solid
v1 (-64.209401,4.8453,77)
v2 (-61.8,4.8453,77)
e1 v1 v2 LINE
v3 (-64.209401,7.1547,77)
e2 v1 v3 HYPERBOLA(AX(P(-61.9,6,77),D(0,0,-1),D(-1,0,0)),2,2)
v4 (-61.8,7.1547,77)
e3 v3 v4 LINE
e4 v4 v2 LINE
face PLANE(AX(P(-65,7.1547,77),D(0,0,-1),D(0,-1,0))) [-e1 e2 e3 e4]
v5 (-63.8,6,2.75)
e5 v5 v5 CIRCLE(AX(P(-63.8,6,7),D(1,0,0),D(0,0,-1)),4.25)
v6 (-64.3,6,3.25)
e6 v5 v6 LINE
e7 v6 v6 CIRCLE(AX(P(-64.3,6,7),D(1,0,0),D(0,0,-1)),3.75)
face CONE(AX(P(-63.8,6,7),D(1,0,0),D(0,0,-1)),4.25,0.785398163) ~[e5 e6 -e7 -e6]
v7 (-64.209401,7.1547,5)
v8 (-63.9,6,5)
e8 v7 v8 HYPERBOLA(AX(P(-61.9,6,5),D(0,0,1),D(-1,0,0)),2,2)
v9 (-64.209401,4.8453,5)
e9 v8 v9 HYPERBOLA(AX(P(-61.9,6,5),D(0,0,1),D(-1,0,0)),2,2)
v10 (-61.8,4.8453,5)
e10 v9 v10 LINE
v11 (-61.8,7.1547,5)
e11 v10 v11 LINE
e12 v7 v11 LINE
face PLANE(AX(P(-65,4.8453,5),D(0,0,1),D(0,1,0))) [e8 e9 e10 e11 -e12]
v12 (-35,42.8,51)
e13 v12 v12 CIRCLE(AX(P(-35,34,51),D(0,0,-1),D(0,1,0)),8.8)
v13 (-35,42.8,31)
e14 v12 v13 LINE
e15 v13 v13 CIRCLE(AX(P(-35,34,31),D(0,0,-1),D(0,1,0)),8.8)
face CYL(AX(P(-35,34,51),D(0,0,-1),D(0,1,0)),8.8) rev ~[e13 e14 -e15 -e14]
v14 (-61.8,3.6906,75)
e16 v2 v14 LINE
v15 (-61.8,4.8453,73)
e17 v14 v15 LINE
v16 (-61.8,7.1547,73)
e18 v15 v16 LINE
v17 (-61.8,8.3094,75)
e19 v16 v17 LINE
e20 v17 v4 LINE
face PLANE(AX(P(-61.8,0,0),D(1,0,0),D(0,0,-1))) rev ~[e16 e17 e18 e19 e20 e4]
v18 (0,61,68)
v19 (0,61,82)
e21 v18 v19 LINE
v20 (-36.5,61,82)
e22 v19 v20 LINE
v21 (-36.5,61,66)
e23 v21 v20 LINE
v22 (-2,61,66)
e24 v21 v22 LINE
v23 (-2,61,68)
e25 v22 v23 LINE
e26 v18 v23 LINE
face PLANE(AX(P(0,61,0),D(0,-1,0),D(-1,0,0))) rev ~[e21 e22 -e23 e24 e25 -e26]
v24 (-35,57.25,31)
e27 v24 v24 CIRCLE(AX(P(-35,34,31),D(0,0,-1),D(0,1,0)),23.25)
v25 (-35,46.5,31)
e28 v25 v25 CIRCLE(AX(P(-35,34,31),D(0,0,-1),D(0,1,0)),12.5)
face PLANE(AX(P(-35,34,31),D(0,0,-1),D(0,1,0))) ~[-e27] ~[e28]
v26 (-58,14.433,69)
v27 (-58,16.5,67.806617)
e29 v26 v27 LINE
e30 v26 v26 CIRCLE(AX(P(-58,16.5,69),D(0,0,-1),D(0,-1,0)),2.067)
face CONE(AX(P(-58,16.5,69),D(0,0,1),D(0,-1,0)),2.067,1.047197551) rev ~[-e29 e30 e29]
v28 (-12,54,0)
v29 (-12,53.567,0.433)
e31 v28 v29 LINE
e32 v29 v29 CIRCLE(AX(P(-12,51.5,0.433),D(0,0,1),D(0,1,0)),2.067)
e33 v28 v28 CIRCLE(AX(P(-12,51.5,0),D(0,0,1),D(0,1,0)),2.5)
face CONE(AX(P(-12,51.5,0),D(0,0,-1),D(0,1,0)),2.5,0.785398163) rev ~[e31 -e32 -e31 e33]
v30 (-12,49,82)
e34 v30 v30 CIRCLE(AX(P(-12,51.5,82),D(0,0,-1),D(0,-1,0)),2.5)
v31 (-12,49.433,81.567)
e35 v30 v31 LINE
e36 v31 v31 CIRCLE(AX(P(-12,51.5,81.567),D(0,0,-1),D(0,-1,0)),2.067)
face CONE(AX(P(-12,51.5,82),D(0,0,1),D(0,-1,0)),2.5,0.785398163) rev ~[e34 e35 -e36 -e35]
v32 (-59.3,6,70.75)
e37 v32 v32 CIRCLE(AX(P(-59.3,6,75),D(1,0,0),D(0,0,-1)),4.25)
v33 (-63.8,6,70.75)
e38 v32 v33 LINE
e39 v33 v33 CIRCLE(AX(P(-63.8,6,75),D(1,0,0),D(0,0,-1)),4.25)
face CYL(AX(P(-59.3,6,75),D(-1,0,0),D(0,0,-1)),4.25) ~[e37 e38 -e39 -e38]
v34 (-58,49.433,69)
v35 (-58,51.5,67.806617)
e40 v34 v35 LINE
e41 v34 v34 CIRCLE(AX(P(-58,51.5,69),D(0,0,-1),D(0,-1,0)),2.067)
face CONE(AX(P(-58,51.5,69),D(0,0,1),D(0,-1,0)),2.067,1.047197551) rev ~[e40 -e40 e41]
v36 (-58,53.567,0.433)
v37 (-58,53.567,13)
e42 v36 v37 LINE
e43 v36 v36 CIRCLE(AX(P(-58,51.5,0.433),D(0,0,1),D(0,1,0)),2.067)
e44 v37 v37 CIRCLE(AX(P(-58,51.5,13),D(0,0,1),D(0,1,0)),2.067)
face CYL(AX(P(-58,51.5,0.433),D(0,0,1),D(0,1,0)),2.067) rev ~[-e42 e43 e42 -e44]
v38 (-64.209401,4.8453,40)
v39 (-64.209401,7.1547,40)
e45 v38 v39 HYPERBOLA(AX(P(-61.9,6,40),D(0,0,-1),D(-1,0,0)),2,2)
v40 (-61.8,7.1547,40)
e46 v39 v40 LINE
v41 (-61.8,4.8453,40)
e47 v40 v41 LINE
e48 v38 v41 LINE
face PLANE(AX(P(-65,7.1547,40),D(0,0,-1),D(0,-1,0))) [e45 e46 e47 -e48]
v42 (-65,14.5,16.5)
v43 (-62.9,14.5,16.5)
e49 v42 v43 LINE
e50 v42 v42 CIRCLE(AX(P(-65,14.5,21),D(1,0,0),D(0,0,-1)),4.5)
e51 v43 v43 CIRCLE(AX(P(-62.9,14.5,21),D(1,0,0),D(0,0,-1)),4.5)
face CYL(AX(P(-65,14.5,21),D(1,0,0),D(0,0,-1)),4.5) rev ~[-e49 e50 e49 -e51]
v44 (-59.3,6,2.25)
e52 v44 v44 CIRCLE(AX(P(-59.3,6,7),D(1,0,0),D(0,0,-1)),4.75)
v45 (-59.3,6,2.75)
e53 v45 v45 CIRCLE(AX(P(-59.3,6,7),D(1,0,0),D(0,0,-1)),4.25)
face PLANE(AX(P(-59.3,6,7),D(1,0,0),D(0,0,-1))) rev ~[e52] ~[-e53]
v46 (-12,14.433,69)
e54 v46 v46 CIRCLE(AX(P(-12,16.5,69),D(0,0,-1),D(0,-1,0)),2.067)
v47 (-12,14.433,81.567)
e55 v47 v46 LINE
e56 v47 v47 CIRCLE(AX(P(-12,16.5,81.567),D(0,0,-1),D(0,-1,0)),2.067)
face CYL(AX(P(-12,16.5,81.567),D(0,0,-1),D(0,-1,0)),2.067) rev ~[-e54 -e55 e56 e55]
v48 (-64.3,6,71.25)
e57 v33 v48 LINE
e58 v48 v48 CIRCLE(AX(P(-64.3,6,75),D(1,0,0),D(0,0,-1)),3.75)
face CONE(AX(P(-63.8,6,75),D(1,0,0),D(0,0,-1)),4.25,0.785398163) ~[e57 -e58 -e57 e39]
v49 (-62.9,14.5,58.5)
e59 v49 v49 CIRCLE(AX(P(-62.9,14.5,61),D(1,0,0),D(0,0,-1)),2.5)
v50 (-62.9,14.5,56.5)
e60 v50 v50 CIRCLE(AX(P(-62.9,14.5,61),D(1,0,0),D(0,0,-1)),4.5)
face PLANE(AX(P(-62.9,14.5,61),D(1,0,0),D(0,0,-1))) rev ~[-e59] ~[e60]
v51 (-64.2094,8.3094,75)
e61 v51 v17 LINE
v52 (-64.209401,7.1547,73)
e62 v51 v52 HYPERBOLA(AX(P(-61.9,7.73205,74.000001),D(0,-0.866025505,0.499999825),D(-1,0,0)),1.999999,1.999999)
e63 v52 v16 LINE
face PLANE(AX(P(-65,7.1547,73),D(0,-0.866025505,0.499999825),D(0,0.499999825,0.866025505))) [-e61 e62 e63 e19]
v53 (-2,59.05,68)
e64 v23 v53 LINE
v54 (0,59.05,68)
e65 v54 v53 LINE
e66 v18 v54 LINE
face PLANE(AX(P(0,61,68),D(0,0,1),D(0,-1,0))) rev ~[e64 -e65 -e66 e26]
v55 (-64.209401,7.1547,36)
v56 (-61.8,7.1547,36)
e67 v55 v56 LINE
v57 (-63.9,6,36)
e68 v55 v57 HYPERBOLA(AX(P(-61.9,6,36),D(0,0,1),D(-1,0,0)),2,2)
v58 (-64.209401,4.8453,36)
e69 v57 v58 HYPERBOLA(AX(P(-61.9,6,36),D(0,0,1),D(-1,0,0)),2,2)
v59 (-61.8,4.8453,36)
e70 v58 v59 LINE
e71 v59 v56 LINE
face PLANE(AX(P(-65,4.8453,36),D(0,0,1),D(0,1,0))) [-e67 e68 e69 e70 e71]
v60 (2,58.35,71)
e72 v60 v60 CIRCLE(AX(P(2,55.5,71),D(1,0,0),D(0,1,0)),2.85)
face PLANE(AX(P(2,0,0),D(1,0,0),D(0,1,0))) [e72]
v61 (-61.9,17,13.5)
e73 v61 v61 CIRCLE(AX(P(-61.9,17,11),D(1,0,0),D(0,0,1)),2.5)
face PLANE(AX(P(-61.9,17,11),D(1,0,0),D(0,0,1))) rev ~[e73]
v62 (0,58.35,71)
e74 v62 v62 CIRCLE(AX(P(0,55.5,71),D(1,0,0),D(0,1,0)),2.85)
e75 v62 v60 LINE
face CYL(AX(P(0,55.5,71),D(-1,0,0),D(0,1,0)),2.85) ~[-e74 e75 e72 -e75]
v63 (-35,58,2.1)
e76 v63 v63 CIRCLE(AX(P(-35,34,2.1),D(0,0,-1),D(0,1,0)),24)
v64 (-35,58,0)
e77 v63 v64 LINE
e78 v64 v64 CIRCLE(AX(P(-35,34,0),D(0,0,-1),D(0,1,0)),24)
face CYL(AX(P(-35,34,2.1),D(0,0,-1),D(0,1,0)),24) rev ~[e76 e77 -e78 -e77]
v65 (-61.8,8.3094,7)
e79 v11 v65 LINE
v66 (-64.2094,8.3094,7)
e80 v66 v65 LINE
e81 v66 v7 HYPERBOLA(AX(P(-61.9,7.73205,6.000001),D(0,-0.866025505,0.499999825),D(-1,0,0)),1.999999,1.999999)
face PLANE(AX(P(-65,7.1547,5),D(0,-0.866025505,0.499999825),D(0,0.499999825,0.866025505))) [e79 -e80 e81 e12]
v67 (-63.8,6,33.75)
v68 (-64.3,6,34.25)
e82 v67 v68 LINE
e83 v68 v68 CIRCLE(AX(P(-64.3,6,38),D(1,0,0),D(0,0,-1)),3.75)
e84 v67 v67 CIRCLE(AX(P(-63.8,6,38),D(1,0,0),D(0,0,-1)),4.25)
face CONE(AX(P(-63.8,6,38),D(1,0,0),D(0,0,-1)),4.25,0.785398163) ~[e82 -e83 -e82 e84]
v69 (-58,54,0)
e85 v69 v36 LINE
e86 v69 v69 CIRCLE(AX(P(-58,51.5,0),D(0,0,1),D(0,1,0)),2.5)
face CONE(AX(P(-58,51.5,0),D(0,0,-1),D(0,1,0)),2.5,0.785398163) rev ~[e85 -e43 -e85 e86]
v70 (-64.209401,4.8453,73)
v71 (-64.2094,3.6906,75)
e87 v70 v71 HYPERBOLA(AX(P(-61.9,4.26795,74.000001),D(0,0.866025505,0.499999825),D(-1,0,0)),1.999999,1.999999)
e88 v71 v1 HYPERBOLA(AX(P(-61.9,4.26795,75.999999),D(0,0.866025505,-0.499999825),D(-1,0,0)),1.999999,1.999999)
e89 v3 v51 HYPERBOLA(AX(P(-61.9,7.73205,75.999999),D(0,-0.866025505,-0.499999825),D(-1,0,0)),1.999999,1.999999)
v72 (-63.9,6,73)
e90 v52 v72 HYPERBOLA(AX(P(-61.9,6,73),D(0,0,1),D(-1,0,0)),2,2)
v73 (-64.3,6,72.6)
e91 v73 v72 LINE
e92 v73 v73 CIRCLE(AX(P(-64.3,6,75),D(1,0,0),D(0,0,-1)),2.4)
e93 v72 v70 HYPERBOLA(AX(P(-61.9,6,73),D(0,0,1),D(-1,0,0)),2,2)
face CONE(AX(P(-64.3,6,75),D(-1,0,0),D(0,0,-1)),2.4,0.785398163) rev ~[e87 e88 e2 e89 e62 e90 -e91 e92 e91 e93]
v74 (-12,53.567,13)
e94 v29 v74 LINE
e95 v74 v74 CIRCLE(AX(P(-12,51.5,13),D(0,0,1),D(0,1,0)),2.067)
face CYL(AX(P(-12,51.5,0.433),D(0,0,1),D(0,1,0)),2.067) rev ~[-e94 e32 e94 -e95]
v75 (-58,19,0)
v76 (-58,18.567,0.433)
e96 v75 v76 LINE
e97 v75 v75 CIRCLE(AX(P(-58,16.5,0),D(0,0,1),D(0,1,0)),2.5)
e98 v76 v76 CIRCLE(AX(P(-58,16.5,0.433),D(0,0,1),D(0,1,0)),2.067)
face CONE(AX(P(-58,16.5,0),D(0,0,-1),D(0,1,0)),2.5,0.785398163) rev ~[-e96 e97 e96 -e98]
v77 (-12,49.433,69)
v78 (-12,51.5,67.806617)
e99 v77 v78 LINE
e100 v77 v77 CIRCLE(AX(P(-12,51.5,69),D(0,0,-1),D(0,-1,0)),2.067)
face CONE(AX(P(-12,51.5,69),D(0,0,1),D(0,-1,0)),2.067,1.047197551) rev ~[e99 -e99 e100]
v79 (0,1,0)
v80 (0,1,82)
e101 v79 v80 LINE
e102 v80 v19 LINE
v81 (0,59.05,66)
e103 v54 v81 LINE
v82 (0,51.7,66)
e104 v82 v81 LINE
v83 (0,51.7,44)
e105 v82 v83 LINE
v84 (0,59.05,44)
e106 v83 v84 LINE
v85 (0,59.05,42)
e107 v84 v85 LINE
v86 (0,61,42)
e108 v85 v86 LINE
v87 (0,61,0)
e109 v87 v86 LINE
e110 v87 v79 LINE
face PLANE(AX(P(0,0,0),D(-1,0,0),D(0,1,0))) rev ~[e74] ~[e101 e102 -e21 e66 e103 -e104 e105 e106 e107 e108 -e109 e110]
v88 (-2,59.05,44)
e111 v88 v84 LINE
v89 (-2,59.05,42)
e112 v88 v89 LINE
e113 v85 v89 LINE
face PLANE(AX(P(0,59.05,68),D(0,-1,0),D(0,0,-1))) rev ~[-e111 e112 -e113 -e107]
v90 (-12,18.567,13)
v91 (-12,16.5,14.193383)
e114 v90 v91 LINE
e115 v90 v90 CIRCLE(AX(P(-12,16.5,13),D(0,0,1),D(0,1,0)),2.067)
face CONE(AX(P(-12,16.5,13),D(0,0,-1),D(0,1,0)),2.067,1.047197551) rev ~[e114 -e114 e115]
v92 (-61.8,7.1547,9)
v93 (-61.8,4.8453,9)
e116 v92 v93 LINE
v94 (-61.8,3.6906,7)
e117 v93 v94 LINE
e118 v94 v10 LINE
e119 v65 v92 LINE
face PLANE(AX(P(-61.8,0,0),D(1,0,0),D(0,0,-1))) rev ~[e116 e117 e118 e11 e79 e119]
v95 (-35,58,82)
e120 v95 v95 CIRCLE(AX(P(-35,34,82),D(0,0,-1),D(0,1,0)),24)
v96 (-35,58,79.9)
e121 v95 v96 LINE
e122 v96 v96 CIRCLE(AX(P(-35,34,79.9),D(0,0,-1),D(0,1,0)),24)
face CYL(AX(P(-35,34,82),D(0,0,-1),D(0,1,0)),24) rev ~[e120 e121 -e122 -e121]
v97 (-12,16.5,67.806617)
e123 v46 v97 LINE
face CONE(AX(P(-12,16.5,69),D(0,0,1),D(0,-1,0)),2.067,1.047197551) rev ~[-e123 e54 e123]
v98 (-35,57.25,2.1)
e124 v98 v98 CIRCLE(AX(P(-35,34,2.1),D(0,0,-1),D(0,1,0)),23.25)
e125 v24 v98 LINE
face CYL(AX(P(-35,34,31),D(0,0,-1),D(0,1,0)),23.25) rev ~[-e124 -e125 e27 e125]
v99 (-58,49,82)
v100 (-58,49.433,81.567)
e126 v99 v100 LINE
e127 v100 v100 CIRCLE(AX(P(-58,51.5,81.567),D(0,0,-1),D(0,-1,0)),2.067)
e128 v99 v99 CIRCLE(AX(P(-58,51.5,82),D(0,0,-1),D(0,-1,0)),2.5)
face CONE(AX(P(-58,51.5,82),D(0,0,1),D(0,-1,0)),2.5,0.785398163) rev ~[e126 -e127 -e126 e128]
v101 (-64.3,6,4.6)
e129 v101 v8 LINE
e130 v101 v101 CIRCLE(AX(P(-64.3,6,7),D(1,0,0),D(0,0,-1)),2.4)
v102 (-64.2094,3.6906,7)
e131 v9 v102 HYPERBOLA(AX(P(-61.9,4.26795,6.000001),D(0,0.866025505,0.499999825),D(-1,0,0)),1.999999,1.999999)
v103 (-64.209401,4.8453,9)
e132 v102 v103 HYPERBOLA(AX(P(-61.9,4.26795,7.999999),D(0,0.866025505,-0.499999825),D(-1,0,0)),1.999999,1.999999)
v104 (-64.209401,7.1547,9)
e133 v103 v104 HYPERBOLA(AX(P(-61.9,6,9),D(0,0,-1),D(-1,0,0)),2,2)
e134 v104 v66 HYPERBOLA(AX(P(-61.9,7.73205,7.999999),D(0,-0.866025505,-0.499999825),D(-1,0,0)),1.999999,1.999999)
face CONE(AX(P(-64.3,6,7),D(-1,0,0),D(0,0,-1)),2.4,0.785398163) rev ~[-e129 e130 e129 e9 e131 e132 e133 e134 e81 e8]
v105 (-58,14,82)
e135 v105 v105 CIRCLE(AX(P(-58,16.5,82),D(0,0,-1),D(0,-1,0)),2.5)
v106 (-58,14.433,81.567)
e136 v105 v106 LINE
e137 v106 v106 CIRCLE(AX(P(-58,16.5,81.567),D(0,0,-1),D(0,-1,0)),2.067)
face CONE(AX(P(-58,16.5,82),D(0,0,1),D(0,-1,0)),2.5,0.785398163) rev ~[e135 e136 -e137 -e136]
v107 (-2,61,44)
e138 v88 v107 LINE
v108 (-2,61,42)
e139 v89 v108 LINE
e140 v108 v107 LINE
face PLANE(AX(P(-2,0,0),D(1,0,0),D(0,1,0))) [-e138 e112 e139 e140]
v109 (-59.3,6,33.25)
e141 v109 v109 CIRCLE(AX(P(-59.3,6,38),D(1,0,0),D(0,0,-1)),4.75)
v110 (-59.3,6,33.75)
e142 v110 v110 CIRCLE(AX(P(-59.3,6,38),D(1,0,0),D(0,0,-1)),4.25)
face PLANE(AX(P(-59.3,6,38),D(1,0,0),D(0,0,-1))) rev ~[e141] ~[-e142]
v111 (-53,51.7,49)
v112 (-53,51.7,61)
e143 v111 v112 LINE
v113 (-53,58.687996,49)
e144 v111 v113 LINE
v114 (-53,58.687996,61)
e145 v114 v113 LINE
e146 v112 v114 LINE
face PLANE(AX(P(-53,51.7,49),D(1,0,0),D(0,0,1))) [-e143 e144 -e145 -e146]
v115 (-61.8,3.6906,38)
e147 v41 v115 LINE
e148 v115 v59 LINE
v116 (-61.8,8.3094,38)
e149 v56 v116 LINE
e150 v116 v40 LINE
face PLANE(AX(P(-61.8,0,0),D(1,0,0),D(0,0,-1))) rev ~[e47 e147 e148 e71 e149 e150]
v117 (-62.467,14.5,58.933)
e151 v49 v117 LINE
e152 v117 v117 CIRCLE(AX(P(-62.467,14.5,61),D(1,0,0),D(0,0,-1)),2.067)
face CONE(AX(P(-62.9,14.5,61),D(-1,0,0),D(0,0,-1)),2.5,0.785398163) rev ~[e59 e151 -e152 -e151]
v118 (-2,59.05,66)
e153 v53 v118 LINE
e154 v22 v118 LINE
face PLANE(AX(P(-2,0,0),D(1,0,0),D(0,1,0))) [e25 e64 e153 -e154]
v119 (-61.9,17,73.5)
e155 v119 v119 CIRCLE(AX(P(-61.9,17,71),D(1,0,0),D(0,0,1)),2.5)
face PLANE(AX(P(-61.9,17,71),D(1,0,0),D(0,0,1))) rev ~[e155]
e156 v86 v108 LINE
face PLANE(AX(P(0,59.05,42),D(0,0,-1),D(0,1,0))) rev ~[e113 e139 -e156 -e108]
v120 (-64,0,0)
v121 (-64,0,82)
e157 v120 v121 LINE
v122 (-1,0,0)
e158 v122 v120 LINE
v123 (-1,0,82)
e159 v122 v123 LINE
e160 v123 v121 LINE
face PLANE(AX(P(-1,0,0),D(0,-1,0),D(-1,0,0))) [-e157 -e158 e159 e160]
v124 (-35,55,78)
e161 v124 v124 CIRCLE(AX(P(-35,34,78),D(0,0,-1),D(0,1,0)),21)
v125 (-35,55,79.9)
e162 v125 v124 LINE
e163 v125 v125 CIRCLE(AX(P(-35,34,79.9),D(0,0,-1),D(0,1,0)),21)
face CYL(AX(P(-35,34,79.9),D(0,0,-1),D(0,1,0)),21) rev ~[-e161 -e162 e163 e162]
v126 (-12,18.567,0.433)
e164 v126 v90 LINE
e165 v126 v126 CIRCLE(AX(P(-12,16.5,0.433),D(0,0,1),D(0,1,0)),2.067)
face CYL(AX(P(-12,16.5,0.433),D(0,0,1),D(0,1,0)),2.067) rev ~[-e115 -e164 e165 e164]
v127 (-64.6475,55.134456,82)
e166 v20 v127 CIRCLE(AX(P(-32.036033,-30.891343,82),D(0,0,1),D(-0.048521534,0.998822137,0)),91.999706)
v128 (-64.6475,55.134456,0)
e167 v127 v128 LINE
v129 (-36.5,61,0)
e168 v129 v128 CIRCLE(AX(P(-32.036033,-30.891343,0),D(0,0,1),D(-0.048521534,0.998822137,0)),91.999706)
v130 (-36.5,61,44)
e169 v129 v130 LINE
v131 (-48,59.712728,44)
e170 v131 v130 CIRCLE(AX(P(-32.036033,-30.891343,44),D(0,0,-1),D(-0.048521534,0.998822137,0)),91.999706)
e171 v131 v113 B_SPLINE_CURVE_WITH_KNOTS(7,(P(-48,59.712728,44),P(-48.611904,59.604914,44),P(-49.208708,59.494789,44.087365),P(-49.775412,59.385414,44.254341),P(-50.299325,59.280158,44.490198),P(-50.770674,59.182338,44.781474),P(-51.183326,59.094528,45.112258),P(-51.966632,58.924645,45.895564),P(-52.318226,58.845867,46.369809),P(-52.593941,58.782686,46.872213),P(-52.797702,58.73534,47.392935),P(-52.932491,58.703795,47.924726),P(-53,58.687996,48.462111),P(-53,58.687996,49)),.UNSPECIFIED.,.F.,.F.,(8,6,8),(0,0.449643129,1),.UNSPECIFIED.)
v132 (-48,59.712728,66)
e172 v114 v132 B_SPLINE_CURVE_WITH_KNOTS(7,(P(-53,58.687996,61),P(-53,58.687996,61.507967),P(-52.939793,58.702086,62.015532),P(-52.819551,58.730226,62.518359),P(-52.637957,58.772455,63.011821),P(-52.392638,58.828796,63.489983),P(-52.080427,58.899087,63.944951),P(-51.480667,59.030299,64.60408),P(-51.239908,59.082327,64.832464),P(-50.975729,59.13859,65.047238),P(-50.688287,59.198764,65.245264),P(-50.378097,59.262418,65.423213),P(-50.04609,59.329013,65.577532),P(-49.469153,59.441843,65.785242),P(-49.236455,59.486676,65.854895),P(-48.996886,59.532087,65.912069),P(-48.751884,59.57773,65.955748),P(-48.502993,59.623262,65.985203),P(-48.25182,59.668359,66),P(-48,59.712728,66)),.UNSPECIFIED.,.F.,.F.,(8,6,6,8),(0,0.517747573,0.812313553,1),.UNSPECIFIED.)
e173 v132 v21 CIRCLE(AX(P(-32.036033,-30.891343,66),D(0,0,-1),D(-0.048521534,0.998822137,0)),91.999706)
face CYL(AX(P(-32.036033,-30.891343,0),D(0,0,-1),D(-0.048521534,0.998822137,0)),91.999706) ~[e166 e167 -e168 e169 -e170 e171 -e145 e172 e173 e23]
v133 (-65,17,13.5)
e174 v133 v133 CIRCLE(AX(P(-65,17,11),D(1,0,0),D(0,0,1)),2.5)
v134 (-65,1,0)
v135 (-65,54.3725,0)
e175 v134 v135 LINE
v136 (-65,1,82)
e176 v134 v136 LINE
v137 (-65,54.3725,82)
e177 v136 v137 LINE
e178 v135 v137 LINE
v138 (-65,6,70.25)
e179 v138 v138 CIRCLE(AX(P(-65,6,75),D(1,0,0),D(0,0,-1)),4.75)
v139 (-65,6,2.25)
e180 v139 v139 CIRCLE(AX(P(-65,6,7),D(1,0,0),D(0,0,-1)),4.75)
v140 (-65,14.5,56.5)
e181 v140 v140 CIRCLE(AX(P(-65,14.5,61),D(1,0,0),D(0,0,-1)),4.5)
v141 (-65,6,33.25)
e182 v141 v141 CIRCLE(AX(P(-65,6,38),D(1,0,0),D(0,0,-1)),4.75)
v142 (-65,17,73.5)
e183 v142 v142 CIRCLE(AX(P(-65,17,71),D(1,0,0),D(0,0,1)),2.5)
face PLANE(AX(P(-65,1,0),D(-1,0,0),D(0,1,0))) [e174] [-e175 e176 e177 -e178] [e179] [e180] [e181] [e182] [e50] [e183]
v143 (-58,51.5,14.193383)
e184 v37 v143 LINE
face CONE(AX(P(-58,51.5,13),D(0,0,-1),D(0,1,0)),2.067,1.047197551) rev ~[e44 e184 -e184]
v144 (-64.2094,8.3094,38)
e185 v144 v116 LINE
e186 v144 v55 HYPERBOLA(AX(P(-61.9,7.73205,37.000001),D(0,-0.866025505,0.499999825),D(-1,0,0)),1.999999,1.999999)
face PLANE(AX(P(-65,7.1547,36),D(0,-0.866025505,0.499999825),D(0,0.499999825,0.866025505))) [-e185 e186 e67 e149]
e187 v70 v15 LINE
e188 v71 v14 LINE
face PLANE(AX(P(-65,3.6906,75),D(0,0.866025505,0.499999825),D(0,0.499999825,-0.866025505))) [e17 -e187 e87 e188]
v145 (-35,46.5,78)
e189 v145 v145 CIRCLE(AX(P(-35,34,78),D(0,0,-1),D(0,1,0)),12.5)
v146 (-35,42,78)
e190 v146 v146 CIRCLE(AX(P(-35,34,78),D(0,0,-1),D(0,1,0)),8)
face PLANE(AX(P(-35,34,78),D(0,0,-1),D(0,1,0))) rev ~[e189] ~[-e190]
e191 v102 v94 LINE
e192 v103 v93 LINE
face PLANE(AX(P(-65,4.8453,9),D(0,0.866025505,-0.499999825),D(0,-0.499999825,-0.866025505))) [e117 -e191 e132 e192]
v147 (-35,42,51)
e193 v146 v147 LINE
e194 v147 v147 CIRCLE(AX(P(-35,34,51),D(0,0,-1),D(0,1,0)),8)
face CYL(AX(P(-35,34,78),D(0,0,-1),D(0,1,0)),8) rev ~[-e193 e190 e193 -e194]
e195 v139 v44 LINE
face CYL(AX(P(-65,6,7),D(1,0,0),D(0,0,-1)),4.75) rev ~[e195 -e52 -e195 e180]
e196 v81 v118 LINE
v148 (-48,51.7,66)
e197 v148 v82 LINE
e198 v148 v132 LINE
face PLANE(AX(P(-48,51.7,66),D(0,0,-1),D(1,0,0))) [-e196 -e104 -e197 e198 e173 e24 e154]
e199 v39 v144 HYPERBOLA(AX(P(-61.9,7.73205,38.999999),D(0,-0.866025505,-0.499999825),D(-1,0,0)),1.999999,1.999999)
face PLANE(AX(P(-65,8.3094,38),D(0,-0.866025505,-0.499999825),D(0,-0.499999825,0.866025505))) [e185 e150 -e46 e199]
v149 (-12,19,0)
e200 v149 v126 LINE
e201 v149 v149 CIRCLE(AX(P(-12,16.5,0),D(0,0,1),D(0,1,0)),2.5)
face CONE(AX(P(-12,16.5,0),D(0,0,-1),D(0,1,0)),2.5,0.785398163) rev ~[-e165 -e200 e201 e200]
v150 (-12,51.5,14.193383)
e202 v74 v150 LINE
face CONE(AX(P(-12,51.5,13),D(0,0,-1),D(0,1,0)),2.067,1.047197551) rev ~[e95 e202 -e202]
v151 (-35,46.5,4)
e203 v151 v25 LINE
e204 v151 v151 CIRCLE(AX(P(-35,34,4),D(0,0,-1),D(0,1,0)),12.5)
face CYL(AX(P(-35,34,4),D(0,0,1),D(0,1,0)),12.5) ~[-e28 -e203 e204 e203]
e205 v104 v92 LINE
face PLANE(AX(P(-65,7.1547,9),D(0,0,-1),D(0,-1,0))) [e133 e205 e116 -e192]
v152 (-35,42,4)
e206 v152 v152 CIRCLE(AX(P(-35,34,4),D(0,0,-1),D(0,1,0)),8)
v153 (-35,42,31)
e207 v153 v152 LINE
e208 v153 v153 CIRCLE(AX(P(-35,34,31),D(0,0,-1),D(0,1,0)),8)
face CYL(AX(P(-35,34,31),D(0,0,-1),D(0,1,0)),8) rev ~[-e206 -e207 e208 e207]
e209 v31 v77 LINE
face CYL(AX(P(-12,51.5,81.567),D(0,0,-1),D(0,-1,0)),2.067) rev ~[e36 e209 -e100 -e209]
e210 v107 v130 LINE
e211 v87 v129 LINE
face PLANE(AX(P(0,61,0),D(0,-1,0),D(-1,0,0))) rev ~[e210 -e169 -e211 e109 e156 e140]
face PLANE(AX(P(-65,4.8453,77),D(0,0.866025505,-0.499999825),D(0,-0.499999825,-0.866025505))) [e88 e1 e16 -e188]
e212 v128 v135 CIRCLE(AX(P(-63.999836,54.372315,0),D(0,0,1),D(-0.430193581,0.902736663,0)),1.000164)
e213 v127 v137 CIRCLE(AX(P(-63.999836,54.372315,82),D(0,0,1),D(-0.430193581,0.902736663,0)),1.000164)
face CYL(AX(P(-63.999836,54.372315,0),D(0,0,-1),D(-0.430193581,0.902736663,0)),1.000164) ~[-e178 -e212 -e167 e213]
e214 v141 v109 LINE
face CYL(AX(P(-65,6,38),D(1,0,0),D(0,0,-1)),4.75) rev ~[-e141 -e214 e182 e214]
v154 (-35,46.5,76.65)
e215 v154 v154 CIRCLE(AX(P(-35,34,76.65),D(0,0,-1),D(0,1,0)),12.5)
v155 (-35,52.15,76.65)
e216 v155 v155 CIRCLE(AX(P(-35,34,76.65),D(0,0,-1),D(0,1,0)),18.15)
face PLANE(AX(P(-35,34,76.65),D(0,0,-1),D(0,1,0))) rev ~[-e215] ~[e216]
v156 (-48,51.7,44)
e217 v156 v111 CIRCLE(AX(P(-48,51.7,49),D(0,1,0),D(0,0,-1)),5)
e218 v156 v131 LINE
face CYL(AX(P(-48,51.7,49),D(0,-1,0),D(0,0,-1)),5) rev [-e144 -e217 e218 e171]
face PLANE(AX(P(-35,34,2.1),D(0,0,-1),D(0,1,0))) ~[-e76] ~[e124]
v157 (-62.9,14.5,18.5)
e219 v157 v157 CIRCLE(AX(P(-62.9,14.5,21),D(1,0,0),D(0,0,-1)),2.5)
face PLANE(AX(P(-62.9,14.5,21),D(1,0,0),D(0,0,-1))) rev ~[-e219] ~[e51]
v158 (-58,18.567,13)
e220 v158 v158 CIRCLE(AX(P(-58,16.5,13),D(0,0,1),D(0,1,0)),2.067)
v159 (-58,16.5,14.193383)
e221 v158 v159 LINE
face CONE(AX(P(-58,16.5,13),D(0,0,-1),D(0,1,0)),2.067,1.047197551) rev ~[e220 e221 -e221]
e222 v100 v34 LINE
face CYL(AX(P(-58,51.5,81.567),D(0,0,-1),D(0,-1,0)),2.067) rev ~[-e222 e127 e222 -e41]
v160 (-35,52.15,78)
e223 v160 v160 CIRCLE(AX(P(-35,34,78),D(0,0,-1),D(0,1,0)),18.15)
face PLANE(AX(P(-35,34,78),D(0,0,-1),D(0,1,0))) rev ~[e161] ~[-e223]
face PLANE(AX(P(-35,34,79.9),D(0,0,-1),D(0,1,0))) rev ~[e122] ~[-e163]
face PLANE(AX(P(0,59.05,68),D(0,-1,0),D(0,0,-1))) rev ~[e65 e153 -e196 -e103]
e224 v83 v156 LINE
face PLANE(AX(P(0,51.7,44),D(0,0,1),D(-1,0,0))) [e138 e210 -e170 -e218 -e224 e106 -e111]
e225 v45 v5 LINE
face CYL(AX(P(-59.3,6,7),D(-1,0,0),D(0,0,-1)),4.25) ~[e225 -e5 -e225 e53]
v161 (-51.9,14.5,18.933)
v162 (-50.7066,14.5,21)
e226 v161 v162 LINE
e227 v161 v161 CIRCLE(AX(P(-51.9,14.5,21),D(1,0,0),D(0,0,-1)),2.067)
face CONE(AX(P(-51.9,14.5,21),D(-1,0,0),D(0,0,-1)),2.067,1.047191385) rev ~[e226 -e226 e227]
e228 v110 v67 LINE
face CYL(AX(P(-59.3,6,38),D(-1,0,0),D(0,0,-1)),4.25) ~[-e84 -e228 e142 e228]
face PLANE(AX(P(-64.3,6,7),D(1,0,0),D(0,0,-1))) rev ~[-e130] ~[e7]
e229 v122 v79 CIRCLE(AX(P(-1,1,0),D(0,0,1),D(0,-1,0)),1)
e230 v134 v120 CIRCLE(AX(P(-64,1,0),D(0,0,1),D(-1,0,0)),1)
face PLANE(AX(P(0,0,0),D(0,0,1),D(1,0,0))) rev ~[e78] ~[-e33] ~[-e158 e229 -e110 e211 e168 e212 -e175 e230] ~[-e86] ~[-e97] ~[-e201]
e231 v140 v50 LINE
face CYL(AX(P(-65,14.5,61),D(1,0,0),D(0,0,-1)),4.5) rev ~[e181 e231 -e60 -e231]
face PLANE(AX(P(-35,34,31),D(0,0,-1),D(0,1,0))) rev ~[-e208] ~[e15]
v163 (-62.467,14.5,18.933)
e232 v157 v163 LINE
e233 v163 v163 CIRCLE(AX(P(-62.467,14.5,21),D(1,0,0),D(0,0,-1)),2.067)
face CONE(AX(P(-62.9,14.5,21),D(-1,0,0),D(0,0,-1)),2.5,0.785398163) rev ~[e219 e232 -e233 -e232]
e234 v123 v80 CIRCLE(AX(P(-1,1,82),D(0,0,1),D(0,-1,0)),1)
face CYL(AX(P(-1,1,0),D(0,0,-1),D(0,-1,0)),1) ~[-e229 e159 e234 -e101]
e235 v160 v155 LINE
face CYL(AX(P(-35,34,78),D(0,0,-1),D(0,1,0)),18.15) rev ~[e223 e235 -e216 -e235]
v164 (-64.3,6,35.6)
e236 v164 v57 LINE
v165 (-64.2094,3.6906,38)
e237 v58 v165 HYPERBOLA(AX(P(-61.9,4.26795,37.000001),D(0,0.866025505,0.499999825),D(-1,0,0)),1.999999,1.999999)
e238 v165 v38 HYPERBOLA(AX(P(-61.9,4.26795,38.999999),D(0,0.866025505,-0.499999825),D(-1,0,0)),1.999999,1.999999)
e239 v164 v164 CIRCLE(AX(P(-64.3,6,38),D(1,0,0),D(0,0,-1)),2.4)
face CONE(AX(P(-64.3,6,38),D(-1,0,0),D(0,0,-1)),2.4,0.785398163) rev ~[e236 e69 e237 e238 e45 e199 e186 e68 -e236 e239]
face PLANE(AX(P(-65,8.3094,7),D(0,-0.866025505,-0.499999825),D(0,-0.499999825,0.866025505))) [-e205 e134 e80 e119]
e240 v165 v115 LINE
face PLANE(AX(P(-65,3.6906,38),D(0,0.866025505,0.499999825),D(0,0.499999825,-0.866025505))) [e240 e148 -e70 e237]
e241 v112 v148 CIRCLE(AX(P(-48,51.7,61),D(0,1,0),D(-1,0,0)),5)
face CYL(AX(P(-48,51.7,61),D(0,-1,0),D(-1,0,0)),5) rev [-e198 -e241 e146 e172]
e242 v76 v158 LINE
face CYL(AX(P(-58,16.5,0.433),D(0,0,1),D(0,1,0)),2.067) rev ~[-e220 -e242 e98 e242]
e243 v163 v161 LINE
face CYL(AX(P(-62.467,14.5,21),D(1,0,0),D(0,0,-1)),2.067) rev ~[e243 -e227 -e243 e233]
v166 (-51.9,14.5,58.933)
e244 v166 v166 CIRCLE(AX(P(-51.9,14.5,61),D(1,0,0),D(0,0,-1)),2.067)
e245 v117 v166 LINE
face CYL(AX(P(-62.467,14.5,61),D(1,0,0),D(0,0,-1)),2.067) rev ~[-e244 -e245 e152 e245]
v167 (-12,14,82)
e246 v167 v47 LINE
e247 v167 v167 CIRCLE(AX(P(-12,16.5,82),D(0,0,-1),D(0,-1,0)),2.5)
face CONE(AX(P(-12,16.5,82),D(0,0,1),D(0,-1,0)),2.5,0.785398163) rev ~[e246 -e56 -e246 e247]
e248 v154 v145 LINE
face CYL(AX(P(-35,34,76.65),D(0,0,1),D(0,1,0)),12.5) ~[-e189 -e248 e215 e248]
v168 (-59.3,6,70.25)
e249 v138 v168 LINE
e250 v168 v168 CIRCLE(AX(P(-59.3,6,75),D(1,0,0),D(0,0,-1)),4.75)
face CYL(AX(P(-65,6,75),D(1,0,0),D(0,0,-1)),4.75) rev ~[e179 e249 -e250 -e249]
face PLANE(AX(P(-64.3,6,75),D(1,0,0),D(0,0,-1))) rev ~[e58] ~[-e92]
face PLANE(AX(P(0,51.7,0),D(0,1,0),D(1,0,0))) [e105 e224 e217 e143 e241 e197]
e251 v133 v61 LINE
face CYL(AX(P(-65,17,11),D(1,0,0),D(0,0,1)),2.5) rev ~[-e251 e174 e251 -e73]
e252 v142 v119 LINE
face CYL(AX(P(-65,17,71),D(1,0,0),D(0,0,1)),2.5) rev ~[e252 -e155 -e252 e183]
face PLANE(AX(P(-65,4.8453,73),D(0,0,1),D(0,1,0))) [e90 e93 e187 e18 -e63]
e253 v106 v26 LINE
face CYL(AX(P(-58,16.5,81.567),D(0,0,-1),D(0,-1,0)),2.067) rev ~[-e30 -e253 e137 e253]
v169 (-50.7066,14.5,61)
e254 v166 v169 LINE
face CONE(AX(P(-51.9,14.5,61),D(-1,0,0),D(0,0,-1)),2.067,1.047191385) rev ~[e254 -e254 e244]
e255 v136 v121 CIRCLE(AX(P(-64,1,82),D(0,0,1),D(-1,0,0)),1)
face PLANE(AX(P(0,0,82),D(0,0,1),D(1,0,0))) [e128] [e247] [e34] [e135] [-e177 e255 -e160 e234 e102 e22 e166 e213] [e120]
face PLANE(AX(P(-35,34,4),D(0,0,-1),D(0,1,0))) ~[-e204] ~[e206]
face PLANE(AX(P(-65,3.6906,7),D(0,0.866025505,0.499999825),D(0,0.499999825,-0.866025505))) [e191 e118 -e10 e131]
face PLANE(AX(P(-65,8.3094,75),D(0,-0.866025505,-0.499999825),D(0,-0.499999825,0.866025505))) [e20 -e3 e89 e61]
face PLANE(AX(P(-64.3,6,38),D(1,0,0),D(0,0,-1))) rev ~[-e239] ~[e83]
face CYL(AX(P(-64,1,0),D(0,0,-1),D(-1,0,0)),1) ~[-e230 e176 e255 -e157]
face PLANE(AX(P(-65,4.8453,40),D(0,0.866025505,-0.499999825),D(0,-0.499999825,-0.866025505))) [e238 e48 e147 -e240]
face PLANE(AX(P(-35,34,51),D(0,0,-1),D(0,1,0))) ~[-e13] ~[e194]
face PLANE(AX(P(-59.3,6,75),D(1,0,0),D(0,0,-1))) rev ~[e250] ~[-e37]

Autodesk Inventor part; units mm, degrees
sketch "Sketch_28" plane through (0, 0, 0) normal (0, 0, 1) x (1, 0, 0)
  line L0 (-65, 55) -> (-65, 0)
  line L1 (-65, 0) -> (0, 0)
  line L2 (0, 0) -> (0, 61)
  line L3 (0, 61) -> (-36.5, 61)
  arc A0 (-36.5, 61) -> (-65, 55) centre (-32.036, -30.8916) ccw
extrude "Extrusion1" add sketch "Sketch_28" along normal blind 82
sketch "Sketch_20" plane through (0, 0, 0) normal (0, 0, 1) x (1, 0, 0)
  line L0 (-66, 57) -> (-66, -1)
  line L1 (-66, -1) -> (2, -1)
  line L2 (2, -1) -> (2, 5)
  line L3 (2, 5) -> (0, 5)
  line L4 (0, 5) -> (0, 1)
  arc A0 (-1, 0) -> (0, 1) centre (-1, 1) ccw
  line L5 (-1, 0) -> (-64, 0)
  arc A1 (-65, 1) -> (-64, 0) centre (-64, 1) ccw
  line L6 (-65, 1) -> (-65, 54.3725)
  arc A2 (-64.4301, 55.2752) -> (-65, 54.3725) centre (-64, 54.3725) ccw
  arc A3 (-64, 55.4781) -> (-64.4301, 55.2752) centre (-38.6219, 1.1094) ccw
  line L7 (-64, 55.4781) -> (-64, 57)
  line L8 (-64, 57) -> (-66, 57)
extrude "Extrusion2" cut sketch "Sketch_20" along normal blind 82
sketch "Sketch3" plane through (0, 0, 82) normal (0, 0, 1) x (1, 0, 0)
  point P0 (-12, 16.5)
hole "Hole1" at (-12, 16.5, 82) direction (0, 0, -1) diameter 4.134 depth 13 tip angle 120 countersink diameter 5 countersink angle 90 thread size "M5x0.8" class "6H" standard "ISO Metric profile"
sketch "Sketch4" plane through (0, 0, 82) normal (0, 0, 1) x (1, 0, 0)
  point P0 (-12, 51.5)
hole "Hole2" at (-12, 51.5, 82) direction (0, 0, -1) diameter 4.134 depth 13 tip angle 120 countersink diameter 5 countersink angle 90 thread size "M5x0.8" class "6H" standard "ISO Metric profile"
sketch "Sketch5" plane through (0, 0, 0) normal (0, 0, -1) x (-1, 0, 0)
  point P0 (12, 16.5)
hole "Hole3" at (-12, 16.5, 0) direction (0, 0, 1) diameter 4.134 depth 13 tip angle 120 countersink diameter 5 countersink angle 90 thread size "M5x0.8" class "6H" standard "ISO Metric profile"
sketch "Sketch6" plane through (0, 0, 0) normal (0, 0, -1) x (-1, 0, 0)
  point P0 (12, 51.5)
hole "Hole4" at (-12, 51.5, 0) direction (0, 0, 1) diameter 4.134 depth 13 tip angle 120 countersink diameter 5 countersink angle 90 thread size "M5x0.8" class "6H" standard "ISO Metric profile"
sketch "Sketch7" plane through (0, 0, 82) normal (0, 0, 1) x (1, 0, 0)
  point P0 (-58, 16.5)
hole "Hole5" at (-58, 16.5, 82) direction (0, 0, -1) diameter 4.134 depth 13 tip angle 120 countersink diameter 5 countersink angle 90 thread size "M5x0.8" class "6H" standard "ISO Metric profile"
sketch "Sketch8" plane through (0, 0, 82) normal (0, 0, 1) x (1, 0, 0)
  point P0 (-58, 51.5)
hole "Hole6" at (-58, 51.5, 82) direction (0, 0, -1) diameter 4.134 depth 13 tip angle 120 countersink diameter 5 countersink angle 90 thread size "M5x0.8" class "6H" standard "ISO Metric profile"
sketch "Sketch9" plane through (0, 0, 0) normal (0, 0, -1) x (-1, 0, 0)
  point P0 (58, 16.5)
hole "Hole7" at (-58, 16.5, 0) direction (0, 0, 1) diameter 4.134 depth 13 tip angle 120 countersink diameter 5 countersink angle 90 thread size "M5x0.8" class "6H" standard "ISO Metric profile"
sketch "Sketch10" plane through (0, 0, 0) normal (0, 0, -1) x (-1, 0, 0)
  point P0 (58, 51.5)
hole "Hole8" at (-58, 51.5, 0) direction (0, 0, 1) diameter 4.134 depth 13 tip angle 120 countersink diameter 5 countersink angle 90 thread size "M5x0.8" class "6H" standard "ISO Metric profile"
sketch "Sketch_13" plane through (0, 0, 0) normal (1, 0, 0) x (0, 1, 0)
  circle A0 centre (55.5, 71) radius 2.85
extrude "Extrusion3" add sketch "Sketch_13" along normal blind 2
sketch "Sketch12" plane through (-65, 1, 0) normal (-1, 0, 0) x (0, 0, 1)
  point P0 (71, 16)
hole "Hole9" at (-65, 17, 71) direction (1, 0, 0) diameter 5 depth 3.1
sketch "Sketch13" plane through (-65, 1, 0) normal (-1, 0, 0) x (0, 0, 1)
  point P0 (11, 16)
hole "Hole10" at (-65, 17, 11) direction (1, 0, 0) diameter 5 depth 3.1
sketch "Sketch_18" plane through (0, 14.5, 0) normal (0, 1, 0) x (1, 0, 0)
  line L0 (-50.7066, -61) -> (-65, -61)
  line L1 (-65, -61) -> (-65, -56.5)
  line L2 (-65, -56.5) -> (-62.9, -56.5)
  line L3 (-62.9, -56.5) -> (-62.9, -58.5)
  line L4 (-62.9, -58.5) -> (-62.467, -58.933)
  line L5 (-62.467, -58.933) -> (-51.9, -58.933)
  line L6 (-51.9, -58.933) -> (-50.7066, -61)
  line L7 (-50.7066, -61) -> (-65, -61)
revolve "Revolution1" cut sketch "Sketch_18" angle 360 about axis through (-50.7066, 14.5, 61) along (1, 0, 0)
thread "Thread1" size "M5x0.8" class "6H" standard "ISO Metric profile" length 7.567
sketch "Sketch_19" plane through (0, 14.5, 0) normal (0, 1, 0) x (1, 0, 0)
  line L0 (-50.7066, -21) -> (-65, -21)
  line L1 (-65, -21) -> (-65, -16.5)
  line L2 (-65, -16.5) -> (-62.9, -16.5)
  line L3 (-62.9, -16.5) -> (-62.9, -18.5)
  line L4 (-62.9, -18.5) -> (-62.467, -18.933)
  line L5 (-62.467, -18.933) -> (-51.9, -18.933)
  line L6 (-51.9, -18.933) -> (-50.7066, -21)
  line L7 (-50.7066, -21) -> (-65, -21)
revolve "Revolution2" cut sketch "Sketch_19" angle 360 about axis through (-50.7066, 14.5, 21) along (1, 0, 0)
thread "Thread2" size "M5x0.8" class "6H" standard "ISO Metric profile" length 7.567
sketch "Sketch_29" plane through (0, 6, 0) normal (0, 1, 0) x (1, 0, 0)
  line L0 (-61.9, -7) -> (-65, -7)
  line L1 (-65, -7) -> (-65, -2.25)
  line L2 (-65, -2.25) -> (-59.3, -2.25)
  line L3 (-59.3, -2.25) -> (-59.3, -2.75)
  line L4 (-59.3, -2.75) -> (-63.8, -2.75)
  line L5 (-63.8, -2.75) -> (-64.3, -3.25)
  line L6 (-64.3, -3.25) -> (-64.3, -4.6)
  line L7 (-64.3, -4.6) -> (-61.9, -7)
  line L8 (-61.9, -7) -> (-65, -7)
revolve "Revolution3" cut sketch "Sketch_29" angle 360 about axis through (-61.9, 6, 7) along (1, 0, 0)
sketch "Pattern_1_SKETCH_1" plane through (0, 6, 0) normal (0, 1, 0) x (1, 0, 0)
  line L0 (-61.9, -38) -> (-65, -38)
  line L1 (-65, -38) -> (-65, -33.25)
  line L2 (-65, -33.25) -> (-59.3, -33.25)
  line L3 (-59.3, -33.25) -> (-59.3, -33.75)
  line L4 (-59.3, -33.75) -> (-63.8, -33.75)
  line L5 (-63.8, -33.75) -> (-64.3, -34.25)
  line L6 (-64.3, -34.25) -> (-64.3, -35.6)
  line L7 (-64.3, -35.6) -> (-61.9, -38)
  line L8 (-61.9, -38) -> (-65, -38)
sketch "Pattern_1_SKETCH_2" plane through (0, 6, 0) normal (0, 1, 0) x (1, 0, 0)
  line L0 (-61.9, -75) -> (-65, -75)
  line L1 (-65, -75) -> (-65, -70.25)
  line L2 (-65, -70.25) -> (-59.3, -70.25)
  line L3 (-59.3, -70.25) -> (-59.3, -70.75)
  line L4 (-59.3, -70.75) -> (-63.8, -70.75)
  line L5 (-63.8, -70.75) -> (-64.3, -71.25)
  line L6 (-64.3, -71.25) -> (-64.3, -72.6)
  line L7 (-64.3, -72.6) -> (-61.9, -75)
  line L8 (-61.9, -75) -> (-65, -75)
revolve "Revolution4" cut sketch "Pattern_1_SKETCH_1" angle 360 about axis through (-61.9, 6, 38) along (1, 0, 0)
revolve "Revolution5" cut sketch "Pattern_1_SKETCH_2" angle 360 about axis through (-61.9, 6, 75) along (1, 0, 0)
sketch "Sketch_30" plane through (-65, 0, 0) normal (1, 0, 0) x (0, 0, -1)
  line L0 (-9, 4.8453) -> (-7, 3.6906)
  line L1 (-7, 3.6906) -> (-5, 4.8453)
  line L2 (-5, 4.8453) -> (-5, 7.1547)
  line L3 (-5, 7.1547) -> (-7, 8.3094)
  line L4 (-7, 8.3094) -> (-9, 7.1547)
  line L5 (-9, 7.1547) -> (-9, 4.8453)
extrude "Extrusion4" cut sketch "Sketch_30" along normal blind 3.2
sketch "Pattern_2_SKETCH_1" plane through (-65, 0, 0) normal (1, 0, 0) x (0, 0, -1)
  line L0 (-40, 4.8453) -> (-38, 3.6906)
  line L1 (-38, 3.6906) -> (-36, 4.8453)
  line L2 (-36, 4.8453) -> (-36, 7.1547)
  line L3 (-36, 7.1547) -> (-38, 8.3094)
  line L4 (-38, 8.3094) -> (-40, 7.1547)
  line L5 (-40, 7.1547) -> (-40, 4.8453)
sketch "Pattern_2_SKETCH_2" plane through (-65, 0, 0) normal (1, 0, 0) x (0, 0, -1)
  line L0 (-77, 4.8453) -> (-75, 3.6906)
  line L1 (-75, 3.6906) -> (-73, 4.8453)
  line L2 (-73, 4.8453) -> (-73, 7.1547)
  line L3 (-73, 7.1547) -> (-75, 8.3094)
  line L4 (-75, 8.3094) -> (-77, 7.1547)
  line L5 (-77, 7.1547) -> (-77, 4.8453)
extrude "Extrusion5" cut sketch "Pattern_2_SKETCH_1" along normal blind 3.2
extrude "Extrusion6" cut sketch "Pattern_2_SKETCH_2" along normal blind 3.2
sketch "Sketch_27" plane through (0, 51.7, 0) normal (0, 1, 0) x (1, 0, 0)
  line L0 (-53, -49) -> (-53, -61)
  arc A0 (-53, -61) -> (-48, -66) centre (-48, -61) ccw
  line L1 (-48, -66) -> (0, -66)
  line L2 (0, -66) -> (0, -44)
  line L3 (0, -44) -> (-48, -44)
  arc A1 (-48, -44) -> (-53, -49) centre (-48, -49) ccw
extrude "Extrusion7" cut sketch "Sketch_27" along normal blind 9.3
sketch "Sketch_3" plane through (0, 0, 0) normal (1, 0, 0) x (0, 1, 0)
  line L0 (59.05, 68) -> (59.05, 42)
  line L1 (59.05, 42) -> (61, 42)
  line L2 (61, 42) -> (61, 68)
  line L3 (61, 68) -> (59.05, 68)
extrude "Extrusion8" cut sketch "Sketch_3" against normal blind 2
sketch "Sketch_26" plane through (-35, 0, 0) normal (1, 0, 0) x (0, 0, -1)
  line L0 (0, 34) -> (-82, 34)
  line L1 (-82, 34) -> (-82, 58)
  line L2 (-82, 58) -> (-79.9, 58)
  line L3 (-79.9, 58) -> (-79.9, 55)
  line L4 (-79.9, 55) -> (-78, 55)
  line L5 (-78, 55) -> (-78, 52.15)
  line L6 (-78, 52.15) -> (-76.65, 52.15)
  line L7 (-76.65, 52.15) -> (-76.65, 46.5)
  line L8 (-76.65, 46.5) -> (-78, 46.5)
  line L9 (-78, 46.5) -> (-78, 42)
  line L10 (-78, 42) -> (-51, 42)
  line L11 (-51, 42) -> (-51, 42.8)
  line L12 (-51, 42.8) -> (-31, 42.8)
  line L13 (-31, 42.8) -> (-31, 42)
  line L14 (-31, 42) -> (-4, 42)
  line L15 (-4, 42) -> (-4, 46.5)
  line L16 (-4, 46.5) -> (-31, 46.5)
  line L17 (-31, 46.5) -> (-31, 57.25)
  line L18 (-31, 57.25) -> (-2.1, 57.25)
  line L19 (-2.1, 57.25) -> (-2.1, 58)
  line L20 (-2.1, 58) -> (0, 58)
  line L21 (0, 58) -> (0, 34)
  line L22 (0, 34) -> (-82, 34)
revolve "Revolution6" cut sketch "Sketch_26" angle 360 about axis through (-35, 34, 0) along (0, 0, -1)
ref_plane "CUP1_XY" through (-35, 34, 0) normal (0, 0, -1) x (1, 0, 0)
ref_plane "CUP1_YZ" through (-35, 34, 0) normal (1, 0, 0) x (0, -1, 0)
ref_plane "CUP1_ZX" through (-35, 34, 0) normal (0, -1, 0) x (0, 0, -1)
ref_plane "CUP2_XY" through (-35, 34, 82) normal (0, 0, 1) x (1, 0, 0)
ref_plane "CUP2_YZ" through (-35, 34, 82) normal (1, 0, 0) x (0, 1, 0)
ref_plane "CUP2_ZX" through (-35, 34, 82) normal (0, 1, 0) x (0, 0, 1)
ref_plane "DL_XY" through (0, -0.5, 41) normal (1, 0, 0) x (0, 0, 1)
ref_plane "DL_YZ" through (0, -0.5, 41) normal (0, 0, 1) x (0, -1, 0)
ref_plane "DL_ZX" through (0, -0.5, 41) normal (0, -1, 0) x (1, 0, 0)
ref_plane "TO_AK_XY" through (0, 51.7, 55) normal (-1, 0, 0) x (0, 0, 1)
ref_plane "TO_AK_YZ" through (0, 51.7, 55) normal (0, 0, 1) x (0, 1, 0)
ref_plane "TO_AK_ZX" through (0, 51.7, 55) normal (0, 1, 0) x (-1, 0, 0)
ref_plane "WELLENZAPFEN_L_H_XY" through (-35, 34, 4) normal (0, 0, 1) x (1, 0, 0)
ref_plane "WELLENZAPFEN_L_H_YZ" through (-35, 34, 4) normal (1, 0, 0) x (0, 1, 0)
ref_plane "WELLENZAPFEN_L_H_ZX" through (-35, 34, 4) normal (0, 1, 0) x (0, 0, 1)
ref_plane "WELLENZAPFEN_L_V_XY" through (-35, 34, 78) normal (0, 0, -1) x (1, 0, 0)
ref_plane "WELLENZAPFEN_L_V_YZ" through (-35, 34, 78) normal (1, 0, 0) x (0, -1, 0)
ref_plane "WELLENZAPFEN_L_V_ZX" through (-35, 34, 78) normal (0, -1, 0) x (0, 0, -1)
properties part number "EGC-80-TB-KF___(0_0_0_Deckel LI)"
